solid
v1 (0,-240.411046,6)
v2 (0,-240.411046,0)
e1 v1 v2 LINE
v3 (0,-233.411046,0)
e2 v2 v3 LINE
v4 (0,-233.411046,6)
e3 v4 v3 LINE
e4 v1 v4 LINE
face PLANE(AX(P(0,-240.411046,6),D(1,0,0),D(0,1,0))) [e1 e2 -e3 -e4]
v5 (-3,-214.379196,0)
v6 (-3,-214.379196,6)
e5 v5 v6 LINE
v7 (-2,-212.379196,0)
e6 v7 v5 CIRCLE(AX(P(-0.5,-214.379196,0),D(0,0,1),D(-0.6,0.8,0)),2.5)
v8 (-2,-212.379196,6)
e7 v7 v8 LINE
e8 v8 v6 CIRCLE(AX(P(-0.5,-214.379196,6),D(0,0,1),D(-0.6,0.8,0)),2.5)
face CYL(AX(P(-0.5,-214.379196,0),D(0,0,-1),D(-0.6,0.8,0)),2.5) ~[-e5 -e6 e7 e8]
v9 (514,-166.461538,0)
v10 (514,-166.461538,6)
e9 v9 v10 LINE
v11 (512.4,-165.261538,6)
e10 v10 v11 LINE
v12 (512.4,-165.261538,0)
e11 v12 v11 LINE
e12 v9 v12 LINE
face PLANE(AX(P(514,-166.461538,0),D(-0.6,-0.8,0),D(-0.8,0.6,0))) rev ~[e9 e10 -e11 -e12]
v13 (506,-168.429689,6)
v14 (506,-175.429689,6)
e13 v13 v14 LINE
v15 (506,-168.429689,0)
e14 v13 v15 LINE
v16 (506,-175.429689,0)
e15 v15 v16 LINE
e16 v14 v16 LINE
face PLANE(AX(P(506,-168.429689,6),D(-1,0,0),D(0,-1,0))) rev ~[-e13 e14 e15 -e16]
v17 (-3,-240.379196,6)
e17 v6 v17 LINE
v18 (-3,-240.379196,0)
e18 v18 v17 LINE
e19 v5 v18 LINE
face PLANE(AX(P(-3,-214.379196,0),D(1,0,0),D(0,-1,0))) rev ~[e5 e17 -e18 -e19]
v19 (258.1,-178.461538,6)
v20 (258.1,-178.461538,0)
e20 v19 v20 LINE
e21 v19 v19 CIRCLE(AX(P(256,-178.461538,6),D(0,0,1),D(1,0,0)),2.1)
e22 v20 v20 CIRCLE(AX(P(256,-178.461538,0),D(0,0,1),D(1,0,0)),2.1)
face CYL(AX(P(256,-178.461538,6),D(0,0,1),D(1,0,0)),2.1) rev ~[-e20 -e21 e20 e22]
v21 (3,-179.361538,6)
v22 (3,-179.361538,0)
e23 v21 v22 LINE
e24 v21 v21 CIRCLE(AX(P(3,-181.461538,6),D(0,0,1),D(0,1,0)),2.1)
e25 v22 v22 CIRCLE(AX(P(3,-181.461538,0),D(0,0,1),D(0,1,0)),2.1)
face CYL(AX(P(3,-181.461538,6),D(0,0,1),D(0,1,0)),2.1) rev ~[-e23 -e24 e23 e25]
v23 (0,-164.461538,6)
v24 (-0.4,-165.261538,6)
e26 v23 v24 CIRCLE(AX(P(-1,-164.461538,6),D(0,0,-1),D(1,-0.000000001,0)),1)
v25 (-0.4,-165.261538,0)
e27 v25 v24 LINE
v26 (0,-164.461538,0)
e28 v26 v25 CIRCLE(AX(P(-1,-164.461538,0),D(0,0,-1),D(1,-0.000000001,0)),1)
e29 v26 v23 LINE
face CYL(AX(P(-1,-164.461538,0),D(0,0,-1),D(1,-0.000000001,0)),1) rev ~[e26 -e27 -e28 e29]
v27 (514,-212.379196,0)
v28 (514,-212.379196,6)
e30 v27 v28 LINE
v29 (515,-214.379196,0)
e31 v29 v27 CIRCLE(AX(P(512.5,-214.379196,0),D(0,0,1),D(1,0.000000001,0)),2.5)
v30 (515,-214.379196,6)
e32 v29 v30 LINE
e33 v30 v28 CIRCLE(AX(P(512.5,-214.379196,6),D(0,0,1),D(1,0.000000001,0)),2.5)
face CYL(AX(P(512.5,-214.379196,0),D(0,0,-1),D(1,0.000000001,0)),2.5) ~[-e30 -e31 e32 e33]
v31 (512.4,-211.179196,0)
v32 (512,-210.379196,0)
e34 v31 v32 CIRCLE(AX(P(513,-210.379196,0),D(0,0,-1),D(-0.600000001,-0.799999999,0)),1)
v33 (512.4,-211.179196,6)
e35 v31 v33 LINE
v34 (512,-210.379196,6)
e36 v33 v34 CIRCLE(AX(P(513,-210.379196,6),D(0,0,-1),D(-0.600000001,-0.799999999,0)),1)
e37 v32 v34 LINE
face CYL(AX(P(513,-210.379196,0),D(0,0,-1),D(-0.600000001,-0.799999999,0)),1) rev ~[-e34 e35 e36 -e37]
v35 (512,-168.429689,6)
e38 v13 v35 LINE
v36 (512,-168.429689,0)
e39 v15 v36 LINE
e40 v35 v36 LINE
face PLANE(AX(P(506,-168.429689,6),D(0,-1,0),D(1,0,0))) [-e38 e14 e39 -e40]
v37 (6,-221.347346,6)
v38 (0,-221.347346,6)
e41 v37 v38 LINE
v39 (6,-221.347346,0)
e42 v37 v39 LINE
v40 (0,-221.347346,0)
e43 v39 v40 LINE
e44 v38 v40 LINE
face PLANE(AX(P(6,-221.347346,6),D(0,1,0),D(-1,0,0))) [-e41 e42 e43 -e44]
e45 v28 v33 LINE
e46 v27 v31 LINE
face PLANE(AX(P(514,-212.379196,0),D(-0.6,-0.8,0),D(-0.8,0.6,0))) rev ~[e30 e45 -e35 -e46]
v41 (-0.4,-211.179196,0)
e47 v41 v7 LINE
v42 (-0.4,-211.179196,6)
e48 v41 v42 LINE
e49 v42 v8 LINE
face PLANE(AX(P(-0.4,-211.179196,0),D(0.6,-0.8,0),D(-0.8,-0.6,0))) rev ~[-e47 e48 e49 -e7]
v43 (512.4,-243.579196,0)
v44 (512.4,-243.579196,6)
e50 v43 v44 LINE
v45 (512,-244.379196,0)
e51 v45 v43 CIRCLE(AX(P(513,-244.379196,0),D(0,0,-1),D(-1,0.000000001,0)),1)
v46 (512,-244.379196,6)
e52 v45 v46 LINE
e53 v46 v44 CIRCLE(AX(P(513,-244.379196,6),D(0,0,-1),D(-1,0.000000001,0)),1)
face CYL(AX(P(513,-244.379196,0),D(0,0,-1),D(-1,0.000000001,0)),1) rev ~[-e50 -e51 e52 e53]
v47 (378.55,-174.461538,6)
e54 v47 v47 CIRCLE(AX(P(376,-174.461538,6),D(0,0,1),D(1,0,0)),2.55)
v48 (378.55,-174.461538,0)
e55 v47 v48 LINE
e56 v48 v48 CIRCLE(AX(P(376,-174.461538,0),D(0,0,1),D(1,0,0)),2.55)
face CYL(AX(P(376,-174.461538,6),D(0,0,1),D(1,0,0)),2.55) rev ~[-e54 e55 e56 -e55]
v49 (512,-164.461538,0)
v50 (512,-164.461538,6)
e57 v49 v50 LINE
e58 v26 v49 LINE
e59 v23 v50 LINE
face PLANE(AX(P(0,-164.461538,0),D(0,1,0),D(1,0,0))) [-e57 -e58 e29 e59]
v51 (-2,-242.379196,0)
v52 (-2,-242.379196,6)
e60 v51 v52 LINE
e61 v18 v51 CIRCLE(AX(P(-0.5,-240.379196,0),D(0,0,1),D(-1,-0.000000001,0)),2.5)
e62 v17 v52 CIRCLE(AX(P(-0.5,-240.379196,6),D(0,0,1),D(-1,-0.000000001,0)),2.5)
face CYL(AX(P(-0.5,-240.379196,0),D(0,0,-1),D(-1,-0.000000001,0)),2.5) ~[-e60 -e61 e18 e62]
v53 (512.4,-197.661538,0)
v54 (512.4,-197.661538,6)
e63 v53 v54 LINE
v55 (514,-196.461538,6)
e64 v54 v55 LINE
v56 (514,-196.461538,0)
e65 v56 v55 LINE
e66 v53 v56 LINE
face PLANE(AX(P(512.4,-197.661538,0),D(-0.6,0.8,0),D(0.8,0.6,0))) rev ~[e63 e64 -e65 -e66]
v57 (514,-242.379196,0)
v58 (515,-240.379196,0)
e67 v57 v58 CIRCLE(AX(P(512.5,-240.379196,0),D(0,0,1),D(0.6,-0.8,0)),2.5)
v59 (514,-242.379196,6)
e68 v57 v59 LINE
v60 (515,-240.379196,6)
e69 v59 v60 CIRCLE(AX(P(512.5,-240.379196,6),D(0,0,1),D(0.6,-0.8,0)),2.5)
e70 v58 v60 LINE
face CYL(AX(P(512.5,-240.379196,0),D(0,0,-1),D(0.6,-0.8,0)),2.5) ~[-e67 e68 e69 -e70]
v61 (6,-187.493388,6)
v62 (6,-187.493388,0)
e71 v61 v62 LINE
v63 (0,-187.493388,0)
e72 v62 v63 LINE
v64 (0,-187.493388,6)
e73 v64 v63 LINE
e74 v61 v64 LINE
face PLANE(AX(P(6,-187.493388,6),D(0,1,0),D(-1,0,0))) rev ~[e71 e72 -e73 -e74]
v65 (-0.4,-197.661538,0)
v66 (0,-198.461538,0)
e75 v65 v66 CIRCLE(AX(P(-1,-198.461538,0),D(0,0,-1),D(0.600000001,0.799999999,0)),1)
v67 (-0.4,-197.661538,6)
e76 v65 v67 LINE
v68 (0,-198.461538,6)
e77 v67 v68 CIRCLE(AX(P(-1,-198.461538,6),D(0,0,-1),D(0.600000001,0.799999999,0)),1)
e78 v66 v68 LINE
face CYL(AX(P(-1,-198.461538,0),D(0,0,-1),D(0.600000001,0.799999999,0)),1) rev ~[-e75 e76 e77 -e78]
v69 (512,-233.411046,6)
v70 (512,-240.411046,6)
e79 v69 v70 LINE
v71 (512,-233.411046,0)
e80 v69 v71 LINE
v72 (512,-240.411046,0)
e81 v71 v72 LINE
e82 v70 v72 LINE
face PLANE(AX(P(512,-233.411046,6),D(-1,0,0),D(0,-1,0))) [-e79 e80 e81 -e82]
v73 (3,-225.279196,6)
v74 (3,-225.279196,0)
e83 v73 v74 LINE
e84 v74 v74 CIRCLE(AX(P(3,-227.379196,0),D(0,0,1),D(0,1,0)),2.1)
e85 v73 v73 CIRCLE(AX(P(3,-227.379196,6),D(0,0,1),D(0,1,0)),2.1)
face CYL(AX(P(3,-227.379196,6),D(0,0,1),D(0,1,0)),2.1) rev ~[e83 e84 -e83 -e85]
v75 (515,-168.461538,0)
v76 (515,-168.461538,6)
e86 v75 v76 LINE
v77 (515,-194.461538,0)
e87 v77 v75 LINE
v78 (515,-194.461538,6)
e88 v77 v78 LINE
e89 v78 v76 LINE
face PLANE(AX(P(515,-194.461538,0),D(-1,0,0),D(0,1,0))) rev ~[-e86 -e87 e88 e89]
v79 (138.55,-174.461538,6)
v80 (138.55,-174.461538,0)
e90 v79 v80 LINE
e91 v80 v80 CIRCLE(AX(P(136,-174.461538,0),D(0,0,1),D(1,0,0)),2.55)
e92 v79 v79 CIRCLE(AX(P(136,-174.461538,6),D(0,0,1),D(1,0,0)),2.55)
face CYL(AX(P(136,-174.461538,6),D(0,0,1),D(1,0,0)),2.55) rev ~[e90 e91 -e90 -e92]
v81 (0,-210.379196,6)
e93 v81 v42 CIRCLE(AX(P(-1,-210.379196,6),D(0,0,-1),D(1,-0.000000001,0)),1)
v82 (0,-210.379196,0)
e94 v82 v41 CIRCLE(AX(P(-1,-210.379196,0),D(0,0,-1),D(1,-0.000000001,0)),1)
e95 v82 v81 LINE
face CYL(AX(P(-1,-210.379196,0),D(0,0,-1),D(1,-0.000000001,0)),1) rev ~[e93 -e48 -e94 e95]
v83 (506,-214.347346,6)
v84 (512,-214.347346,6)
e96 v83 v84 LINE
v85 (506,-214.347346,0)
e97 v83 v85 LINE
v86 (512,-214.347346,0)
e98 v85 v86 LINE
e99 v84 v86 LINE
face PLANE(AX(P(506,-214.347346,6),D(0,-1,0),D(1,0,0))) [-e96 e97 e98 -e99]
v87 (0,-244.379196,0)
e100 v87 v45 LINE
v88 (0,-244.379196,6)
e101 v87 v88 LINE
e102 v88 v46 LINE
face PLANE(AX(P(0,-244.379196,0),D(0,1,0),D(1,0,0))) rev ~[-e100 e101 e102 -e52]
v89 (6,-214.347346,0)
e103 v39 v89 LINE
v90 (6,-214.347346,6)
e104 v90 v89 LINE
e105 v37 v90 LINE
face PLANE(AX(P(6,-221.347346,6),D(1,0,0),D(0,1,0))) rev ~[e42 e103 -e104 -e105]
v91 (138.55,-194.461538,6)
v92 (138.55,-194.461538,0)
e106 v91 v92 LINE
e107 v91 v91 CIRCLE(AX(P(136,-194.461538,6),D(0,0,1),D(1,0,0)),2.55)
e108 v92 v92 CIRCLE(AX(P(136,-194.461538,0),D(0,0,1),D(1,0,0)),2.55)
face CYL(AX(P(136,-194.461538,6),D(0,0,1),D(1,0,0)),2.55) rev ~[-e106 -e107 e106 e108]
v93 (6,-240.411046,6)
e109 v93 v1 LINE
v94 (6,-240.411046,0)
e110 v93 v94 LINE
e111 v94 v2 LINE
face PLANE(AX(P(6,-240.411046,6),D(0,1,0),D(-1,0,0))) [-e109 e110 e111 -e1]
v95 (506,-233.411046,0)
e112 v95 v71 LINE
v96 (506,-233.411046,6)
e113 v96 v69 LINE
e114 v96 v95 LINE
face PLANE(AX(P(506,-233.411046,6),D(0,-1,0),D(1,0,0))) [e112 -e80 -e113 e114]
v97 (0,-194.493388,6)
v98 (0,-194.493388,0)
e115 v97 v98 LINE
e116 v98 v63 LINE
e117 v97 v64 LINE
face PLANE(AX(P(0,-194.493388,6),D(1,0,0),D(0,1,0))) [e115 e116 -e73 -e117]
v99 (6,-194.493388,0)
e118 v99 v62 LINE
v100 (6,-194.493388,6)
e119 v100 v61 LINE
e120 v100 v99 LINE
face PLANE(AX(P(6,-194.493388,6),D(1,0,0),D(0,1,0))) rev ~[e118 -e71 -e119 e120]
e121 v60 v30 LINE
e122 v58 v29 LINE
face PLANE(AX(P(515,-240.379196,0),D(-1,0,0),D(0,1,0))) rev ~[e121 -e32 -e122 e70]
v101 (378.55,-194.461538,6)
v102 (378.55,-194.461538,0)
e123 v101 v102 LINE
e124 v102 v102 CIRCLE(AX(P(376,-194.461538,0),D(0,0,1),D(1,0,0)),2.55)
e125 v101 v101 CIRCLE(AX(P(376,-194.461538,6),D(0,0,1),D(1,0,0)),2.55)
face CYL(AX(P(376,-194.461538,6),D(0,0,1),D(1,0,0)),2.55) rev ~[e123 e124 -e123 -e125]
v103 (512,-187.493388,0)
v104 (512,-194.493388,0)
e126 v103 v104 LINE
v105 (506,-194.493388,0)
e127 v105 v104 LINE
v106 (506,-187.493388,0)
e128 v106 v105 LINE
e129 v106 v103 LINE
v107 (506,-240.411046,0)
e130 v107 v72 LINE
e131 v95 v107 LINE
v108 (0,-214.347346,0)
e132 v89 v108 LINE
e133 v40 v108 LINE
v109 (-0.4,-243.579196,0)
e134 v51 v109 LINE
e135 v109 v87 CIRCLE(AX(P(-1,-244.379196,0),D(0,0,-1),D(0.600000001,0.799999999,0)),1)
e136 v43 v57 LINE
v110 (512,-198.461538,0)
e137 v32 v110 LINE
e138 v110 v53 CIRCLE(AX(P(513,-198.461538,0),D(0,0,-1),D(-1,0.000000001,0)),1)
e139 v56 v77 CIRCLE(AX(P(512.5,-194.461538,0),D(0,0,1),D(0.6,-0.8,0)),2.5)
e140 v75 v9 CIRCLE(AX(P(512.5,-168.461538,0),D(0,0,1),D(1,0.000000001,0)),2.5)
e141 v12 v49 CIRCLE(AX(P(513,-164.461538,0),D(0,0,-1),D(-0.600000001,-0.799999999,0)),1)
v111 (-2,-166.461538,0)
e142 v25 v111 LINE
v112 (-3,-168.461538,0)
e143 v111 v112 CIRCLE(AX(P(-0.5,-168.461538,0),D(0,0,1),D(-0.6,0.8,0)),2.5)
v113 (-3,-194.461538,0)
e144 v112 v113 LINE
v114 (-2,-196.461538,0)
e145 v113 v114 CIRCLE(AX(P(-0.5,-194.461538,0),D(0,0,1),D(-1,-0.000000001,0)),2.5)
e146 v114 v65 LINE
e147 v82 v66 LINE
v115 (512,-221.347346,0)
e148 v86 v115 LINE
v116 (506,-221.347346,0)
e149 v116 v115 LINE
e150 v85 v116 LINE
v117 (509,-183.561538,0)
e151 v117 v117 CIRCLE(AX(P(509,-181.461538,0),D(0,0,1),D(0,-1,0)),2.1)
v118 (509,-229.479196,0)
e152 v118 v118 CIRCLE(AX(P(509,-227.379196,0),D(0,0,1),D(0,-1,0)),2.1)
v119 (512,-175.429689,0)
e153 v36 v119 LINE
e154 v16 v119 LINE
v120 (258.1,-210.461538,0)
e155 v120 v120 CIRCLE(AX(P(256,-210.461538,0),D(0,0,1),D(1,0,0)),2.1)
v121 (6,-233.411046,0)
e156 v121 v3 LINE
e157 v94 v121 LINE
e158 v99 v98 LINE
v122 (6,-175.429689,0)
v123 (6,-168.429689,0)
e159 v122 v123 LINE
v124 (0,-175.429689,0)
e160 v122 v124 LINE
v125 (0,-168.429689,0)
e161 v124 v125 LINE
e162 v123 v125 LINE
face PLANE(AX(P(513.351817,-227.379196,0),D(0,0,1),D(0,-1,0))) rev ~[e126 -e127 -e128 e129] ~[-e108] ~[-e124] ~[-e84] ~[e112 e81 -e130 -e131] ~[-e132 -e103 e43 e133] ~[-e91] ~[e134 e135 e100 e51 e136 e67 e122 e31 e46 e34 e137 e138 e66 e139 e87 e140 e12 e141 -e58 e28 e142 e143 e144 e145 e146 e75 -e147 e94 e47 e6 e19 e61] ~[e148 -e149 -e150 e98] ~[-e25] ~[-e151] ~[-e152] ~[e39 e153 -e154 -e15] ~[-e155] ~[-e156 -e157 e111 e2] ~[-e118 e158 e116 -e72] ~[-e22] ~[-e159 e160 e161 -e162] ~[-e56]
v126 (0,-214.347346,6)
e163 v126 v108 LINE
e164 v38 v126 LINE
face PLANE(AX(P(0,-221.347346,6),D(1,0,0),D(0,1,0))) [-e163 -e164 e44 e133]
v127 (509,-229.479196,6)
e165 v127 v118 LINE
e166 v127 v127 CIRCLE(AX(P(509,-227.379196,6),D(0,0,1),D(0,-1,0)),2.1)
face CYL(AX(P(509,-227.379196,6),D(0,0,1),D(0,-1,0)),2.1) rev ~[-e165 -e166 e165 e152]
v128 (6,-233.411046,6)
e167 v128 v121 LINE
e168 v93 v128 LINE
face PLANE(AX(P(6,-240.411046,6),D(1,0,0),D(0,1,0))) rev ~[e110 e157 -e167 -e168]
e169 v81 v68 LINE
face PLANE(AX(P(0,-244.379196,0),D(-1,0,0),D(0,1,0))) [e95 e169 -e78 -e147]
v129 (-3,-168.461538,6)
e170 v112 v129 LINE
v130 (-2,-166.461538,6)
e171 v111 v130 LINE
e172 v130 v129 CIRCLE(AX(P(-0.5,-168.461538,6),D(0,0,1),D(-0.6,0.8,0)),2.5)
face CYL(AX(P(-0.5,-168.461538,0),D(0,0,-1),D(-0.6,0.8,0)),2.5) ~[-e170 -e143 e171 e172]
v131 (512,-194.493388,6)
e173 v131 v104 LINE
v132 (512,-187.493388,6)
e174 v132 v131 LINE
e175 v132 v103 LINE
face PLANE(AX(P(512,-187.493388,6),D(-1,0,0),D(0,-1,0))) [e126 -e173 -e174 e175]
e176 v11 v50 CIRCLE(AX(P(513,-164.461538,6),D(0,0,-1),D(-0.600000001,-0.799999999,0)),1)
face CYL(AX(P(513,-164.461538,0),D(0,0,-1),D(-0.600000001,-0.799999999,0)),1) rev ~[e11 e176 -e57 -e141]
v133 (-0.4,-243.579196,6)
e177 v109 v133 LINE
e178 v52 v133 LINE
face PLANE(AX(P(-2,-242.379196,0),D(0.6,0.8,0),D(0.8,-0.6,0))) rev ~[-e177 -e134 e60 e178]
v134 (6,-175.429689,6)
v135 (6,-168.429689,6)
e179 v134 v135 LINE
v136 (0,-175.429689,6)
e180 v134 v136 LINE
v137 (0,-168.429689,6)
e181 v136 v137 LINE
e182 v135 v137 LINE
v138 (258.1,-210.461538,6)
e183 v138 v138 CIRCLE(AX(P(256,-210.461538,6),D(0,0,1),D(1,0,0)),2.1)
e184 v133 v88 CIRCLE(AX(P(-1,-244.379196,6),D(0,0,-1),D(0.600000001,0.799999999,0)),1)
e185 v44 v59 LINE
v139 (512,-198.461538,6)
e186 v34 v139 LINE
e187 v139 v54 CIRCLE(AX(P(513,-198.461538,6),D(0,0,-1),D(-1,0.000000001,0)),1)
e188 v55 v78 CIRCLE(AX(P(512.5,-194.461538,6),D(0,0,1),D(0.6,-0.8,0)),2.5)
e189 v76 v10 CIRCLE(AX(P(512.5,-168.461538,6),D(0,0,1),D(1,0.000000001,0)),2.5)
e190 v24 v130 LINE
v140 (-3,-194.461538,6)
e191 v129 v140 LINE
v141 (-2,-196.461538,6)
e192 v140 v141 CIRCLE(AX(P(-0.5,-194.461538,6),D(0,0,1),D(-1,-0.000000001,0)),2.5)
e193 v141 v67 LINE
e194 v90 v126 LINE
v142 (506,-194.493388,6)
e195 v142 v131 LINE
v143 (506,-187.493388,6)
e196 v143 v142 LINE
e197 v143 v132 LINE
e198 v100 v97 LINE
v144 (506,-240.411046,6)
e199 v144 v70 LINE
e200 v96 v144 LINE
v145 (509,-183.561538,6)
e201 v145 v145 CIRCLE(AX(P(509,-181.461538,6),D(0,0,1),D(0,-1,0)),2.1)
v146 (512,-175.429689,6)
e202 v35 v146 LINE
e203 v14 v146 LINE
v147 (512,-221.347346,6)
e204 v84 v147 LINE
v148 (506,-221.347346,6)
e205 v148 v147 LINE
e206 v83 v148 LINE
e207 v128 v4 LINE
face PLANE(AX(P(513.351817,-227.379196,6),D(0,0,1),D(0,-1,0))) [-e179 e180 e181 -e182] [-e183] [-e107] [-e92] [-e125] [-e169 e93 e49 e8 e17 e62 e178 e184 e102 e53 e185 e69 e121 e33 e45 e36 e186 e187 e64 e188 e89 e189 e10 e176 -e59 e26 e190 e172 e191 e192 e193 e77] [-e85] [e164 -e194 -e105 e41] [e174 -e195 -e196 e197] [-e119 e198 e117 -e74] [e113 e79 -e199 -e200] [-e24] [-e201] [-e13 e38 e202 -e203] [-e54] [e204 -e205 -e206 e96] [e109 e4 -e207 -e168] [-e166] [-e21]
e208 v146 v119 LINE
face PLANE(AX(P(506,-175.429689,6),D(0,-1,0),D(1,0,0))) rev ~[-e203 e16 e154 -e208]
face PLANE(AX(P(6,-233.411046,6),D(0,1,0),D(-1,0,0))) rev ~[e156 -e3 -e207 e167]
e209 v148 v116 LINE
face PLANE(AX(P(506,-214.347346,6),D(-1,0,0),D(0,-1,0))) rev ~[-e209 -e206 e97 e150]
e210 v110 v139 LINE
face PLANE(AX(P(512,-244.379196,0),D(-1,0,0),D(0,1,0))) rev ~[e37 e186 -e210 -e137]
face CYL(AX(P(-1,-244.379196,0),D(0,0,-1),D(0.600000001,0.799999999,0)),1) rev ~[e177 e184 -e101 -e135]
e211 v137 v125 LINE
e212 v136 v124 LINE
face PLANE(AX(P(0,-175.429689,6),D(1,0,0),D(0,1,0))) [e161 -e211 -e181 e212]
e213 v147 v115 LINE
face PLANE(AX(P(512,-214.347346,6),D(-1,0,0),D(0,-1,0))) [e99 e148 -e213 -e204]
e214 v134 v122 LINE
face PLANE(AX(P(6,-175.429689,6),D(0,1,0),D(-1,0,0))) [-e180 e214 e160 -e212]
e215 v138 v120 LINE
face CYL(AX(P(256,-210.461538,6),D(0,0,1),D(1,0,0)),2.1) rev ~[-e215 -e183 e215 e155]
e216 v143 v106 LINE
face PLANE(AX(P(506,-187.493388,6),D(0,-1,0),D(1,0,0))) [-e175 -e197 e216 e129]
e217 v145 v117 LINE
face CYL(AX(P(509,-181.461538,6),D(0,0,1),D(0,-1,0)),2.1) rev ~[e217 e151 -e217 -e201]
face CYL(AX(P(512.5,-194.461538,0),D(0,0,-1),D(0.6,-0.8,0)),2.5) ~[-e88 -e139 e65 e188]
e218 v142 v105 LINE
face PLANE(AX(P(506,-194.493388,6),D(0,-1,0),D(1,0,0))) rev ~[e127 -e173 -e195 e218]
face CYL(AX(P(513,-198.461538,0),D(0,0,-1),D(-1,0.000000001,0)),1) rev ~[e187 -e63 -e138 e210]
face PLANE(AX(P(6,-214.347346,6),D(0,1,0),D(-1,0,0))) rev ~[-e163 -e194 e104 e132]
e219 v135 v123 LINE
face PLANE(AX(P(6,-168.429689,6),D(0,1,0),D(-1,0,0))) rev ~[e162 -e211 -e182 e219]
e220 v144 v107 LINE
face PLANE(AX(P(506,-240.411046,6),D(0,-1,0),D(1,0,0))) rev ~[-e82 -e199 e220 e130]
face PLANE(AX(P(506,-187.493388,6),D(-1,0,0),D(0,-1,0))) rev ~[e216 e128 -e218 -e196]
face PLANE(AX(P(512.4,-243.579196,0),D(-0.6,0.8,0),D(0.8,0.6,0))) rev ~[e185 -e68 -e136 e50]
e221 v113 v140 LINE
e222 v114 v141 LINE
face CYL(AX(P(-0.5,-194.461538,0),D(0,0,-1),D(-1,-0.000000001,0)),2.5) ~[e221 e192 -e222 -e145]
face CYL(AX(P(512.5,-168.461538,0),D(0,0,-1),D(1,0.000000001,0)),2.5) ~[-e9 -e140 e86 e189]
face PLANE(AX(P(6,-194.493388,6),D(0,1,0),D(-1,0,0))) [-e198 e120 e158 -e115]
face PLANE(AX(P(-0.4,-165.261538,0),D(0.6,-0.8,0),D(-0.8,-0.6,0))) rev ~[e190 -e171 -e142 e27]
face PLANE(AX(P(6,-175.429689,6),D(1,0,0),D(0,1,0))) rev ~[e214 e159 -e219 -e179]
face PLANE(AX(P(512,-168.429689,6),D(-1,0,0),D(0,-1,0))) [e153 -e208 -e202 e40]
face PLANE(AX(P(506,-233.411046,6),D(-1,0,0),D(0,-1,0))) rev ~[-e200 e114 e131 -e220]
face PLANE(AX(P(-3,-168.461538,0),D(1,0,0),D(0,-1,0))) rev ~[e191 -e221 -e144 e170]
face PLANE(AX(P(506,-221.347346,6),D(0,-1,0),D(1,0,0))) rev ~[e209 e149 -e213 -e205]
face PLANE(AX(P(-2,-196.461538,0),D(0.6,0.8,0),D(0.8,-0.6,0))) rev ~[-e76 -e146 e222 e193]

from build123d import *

# Parameters (mm, degrees)
SKETCH_1_W           = 512
SKETCH_1_H           = 79.917657137
EXTRUDE_1_DEPTH      = 6
SKETCH_2_R           = 2.1
SKETCH_2_R_2         = 2.55
CUT_EXTRUDE_1_DEPTH  = 7
EXTRUDE_2_DEPTH      = 6
SKETCH_3_R           = 2.1
SKETCH_3_W           = 7
SKETCH_3_H           = 6
CUT_EXTRUDE_11_DEPTH = 7
EXTRUDE_21_DEPTH     = 6
SKETCH_31_R          = 2.1
SKETCH_31_W          = 7
SKETCH_31_H          = 6
CUT_EXTRUDE_12_DEPTH = 7
EXTRUDE_22_DEPTH     = 6
SKETCH_32_R          = 2.1
SKETCH_32_W          = 7
SKETCH_32_H          = 6
CUT_EXTRUDE_13_DEPTH = 7
EXTRUDE_23_DEPTH     = 6
SKETCH_33_R          = 2.1
SKETCH_33_W          = 7
SKETCH_33_H          = 6
CUT_EXTRUDE_14_DEPTH = 7


with BuildPart() as part:
    # Эскиз1 → Бобышка-Вытянуть1 (new body)
    with BuildSketch(Plane.XY):
        with Locations((256, -204.420367031)):
            Rectangle(SKETCH_1_W, SKETCH_1_H)
    extrude(amount=EXTRUDE_1_DEPTH)

    # Эскиз2 → Вырез-Вытянуть1 (cut, through all)
    with BuildSketch(Plane.XY.offset(6)):
        with Locations((256, -178.461538462)):
            Circle(SKETCH_2_R)
        with Locations((256, -210.461538462)):
            Circle(SKETCH_2_R)
        with Locations((136, -174.461538462)):
            Circle(SKETCH_2_R_2)
        with Locations((136, -194.461538462)):
            Circle(SKETCH_2_R_2)
        with Locations((376, -174.461538462)):
            Circle(SKETCH_2_R_2)
        with Locations((376, -194.461538462)):
            Circle(SKETCH_2_R_2)
    extrude(amount=-CUT_EXTRUDE_1_DEPTH, mode=Mode.SUBTRACT)

    # Эскиз21 → Бобышка-Вытянуть2 (add)
    with BuildSketch(Plane(origin=(50, -181.461538462, 0), x_dir=(0, 1, 0), z_dir=(0, 0, 1))):
        with BuildLine():
            Line((13, 53), (-13, 53))
            ThreePointArc((-13, 53), (-14.118033989, 52.736067977), (-15, 52))
            Line((-15, 52), (-16.2, 50.4))
            ThreePointArc((-16.2, 50.4), (-16.552786405, 50.105572809), (-17, 50))
            Line((-17, 50), (17, 50))
            ThreePointArc((17, 50), (16.552786405, 50.105572809), (16.2, 50.4))
            Line((16.2, 50.4), (15, 52))
            ThreePointArc((15, 52), (14.118033989, 52.736067977), (13, 53))
        make_face()
    extrude(amount=EXTRUDE_2_DEPTH)

    # Эскиз3 → Вырез-Вытянуть11 (cut, through all)
    with BuildSketch(Plane(origin=(50, -181.461538462, 6), x_dir=(0, 1, 0), z_dir=(0, 0, 1))):
        with Locations((0, 47)):
            Circle(SKETCH_3_R)
        with Locations((9.531849908, 47)):
            Rectangle(SKETCH_3_W, SKETCH_3_H)
        with Locations((-9.531849908, 47)):
            Rectangle(SKETCH_3_W, SKETCH_3_H)
    extrude(amount=-CUT_EXTRUDE_11_DEPTH, mode=Mode.SUBTRACT)

    # Эскиз22 → Бобышка-Вытянуть21 (add)
    with BuildSketch(Plane(origin=(50, -227.379195599, 0), x_dir=(0, 1, 0), z_dir=(0, 0, 1))):
        with BuildLine():
            Line((13, 53), (-13, 53))
            ThreePointArc((-13, 53), (-14.118033989, 52.736067977), (-15, 52))
            Line((-15, 52), (-16.2, 50.4))
            ThreePointArc((-16.2, 50.4), (-16.552786405, 50.105572809), (-17, 50))
            Line((-17, 50), (17, 50))
            ThreePointArc((17, 50), (16.552786405, 50.105572809), (16.2, 50.4))
            Line((16.2, 50.4), (15, 52))
            ThreePointArc((15, 52), (14.118033989, 52.736067977), (13, 53))
        make_face()
    extrude(amount=EXTRUDE_21_DEPTH)

    # Эскиз31 → Вырез-Вытянуть12 (cut, through all)
    with BuildSketch(Plane(origin=(50, -227.379195599, 6), x_dir=(0, 1, 0), z_dir=(0, 0, 1))):
        with Locations((0, 47)):
            Circle(SKETCH_31_R)
        with Locations((9.531849908, 47)):
            Rectangle(SKETCH_31_W, SKETCH_31_H)
        with Locations((-9.531849908, 47)):
            Rectangle(SKETCH_31_W, SKETCH_31_H)
    extrude(amount=-CUT_EXTRUDE_12_DEPTH, mode=Mode.SUBTRACT)

    # Эскиз23 → Бобышка-Вытянуть22 (add)
    with BuildSketch(Plane(origin=(462, -181.461538462, 0), x_dir=(0, -1, 0), z_dir=(0, 0, 1))):
        with BuildLine():
            Line((13, 53), (-13, 53))
            ThreePointArc((-13, 53), (-14.118033989, 52.736067977), (-15, 52))
            Line((-15, 52), (-16.2, 50.4))
            ThreePointArc((-16.2, 50.4), (-16.552786405, 50.105572809), (-17, 50))
            Line((-17, 50), (17, 50))
            ThreePointArc((17, 50), (16.552786405, 50.105572809), (16.2, 50.4))
            Line((16.2, 50.4), (15, 52))
            ThreePointArc((15, 52), (14.118033989, 52.736067977), (13, 53))
        make_face()
    extrude(amount=EXTRUDE_22_DEPTH)

    # Эскиз32 → Вырез-Вытянуть13 (cut, through all)
    with BuildSketch(Plane(origin=(462, -181.461538462, 6), x_dir=(0, -1, 0), z_dir=(0, 0, 1))):
        with Locations((0, 47)):
            Circle(SKETCH_32_R)
        with Locations((9.531849908, 47)):
            Rectangle(SKETCH_32_W, SKETCH_32_H)
        with Locations((-9.531849908, 47)):
            Rectangle(SKETCH_32_W, SKETCH_32_H)
    extrude(amount=-CUT_EXTRUDE_13_DEPTH, mode=Mode.SUBTRACT)

    # Эскиз24 → Бобышка-Вытянуть23 (add)
    with BuildSketch(Plane(origin=(462, -227.379195599, 0), x_dir=(0, -1, 0), z_dir=(0, 0, 1))):
        with BuildLine():
            Line((13, 53), (-13, 53))
            ThreePointArc((-13, 53), (-14.118033989, 52.736067977), (-15, 52))
            Line((-15, 52), (-16.2, 50.4))
            ThreePointArc((-16.2, 50.4), (-16.552786405, 50.105572809), (-17, 50))
            Line((-17, 50), (17, 50))
            ThreePointArc((17, 50), (16.552786405, 50.105572809), (16.2, 50.4))
            Line((16.2, 50.4), (15, 52))
            ThreePointArc((15, 52), (14.118033989, 52.736067977), (13, 53))
        make_face()
    extrude(amount=EXTRUDE_23_DEPTH)

    # Эскиз33 → Вырез-Вытянуть14 (cut, through all)
    with BuildSketch(Plane(origin=(462, -227.379195599, 6), x_dir=(0, -1, 0), z_dir=(0, 0, 1))):
        with Locations((0, 47)):
            Circle(SKETCH_33_R)
        with Locations((9.531849908, 47)):
            Rectangle(SKETCH_33_W, SKETCH_33_H)
        with Locations((-9.531849908, 47)):
            Rectangle(SKETCH_33_W, SKETCH_33_H)
    extrude(amount=-CUT_EXTRUDE_14_DEPTH, mode=Mode.SUBTRACT)


solid = part.part
